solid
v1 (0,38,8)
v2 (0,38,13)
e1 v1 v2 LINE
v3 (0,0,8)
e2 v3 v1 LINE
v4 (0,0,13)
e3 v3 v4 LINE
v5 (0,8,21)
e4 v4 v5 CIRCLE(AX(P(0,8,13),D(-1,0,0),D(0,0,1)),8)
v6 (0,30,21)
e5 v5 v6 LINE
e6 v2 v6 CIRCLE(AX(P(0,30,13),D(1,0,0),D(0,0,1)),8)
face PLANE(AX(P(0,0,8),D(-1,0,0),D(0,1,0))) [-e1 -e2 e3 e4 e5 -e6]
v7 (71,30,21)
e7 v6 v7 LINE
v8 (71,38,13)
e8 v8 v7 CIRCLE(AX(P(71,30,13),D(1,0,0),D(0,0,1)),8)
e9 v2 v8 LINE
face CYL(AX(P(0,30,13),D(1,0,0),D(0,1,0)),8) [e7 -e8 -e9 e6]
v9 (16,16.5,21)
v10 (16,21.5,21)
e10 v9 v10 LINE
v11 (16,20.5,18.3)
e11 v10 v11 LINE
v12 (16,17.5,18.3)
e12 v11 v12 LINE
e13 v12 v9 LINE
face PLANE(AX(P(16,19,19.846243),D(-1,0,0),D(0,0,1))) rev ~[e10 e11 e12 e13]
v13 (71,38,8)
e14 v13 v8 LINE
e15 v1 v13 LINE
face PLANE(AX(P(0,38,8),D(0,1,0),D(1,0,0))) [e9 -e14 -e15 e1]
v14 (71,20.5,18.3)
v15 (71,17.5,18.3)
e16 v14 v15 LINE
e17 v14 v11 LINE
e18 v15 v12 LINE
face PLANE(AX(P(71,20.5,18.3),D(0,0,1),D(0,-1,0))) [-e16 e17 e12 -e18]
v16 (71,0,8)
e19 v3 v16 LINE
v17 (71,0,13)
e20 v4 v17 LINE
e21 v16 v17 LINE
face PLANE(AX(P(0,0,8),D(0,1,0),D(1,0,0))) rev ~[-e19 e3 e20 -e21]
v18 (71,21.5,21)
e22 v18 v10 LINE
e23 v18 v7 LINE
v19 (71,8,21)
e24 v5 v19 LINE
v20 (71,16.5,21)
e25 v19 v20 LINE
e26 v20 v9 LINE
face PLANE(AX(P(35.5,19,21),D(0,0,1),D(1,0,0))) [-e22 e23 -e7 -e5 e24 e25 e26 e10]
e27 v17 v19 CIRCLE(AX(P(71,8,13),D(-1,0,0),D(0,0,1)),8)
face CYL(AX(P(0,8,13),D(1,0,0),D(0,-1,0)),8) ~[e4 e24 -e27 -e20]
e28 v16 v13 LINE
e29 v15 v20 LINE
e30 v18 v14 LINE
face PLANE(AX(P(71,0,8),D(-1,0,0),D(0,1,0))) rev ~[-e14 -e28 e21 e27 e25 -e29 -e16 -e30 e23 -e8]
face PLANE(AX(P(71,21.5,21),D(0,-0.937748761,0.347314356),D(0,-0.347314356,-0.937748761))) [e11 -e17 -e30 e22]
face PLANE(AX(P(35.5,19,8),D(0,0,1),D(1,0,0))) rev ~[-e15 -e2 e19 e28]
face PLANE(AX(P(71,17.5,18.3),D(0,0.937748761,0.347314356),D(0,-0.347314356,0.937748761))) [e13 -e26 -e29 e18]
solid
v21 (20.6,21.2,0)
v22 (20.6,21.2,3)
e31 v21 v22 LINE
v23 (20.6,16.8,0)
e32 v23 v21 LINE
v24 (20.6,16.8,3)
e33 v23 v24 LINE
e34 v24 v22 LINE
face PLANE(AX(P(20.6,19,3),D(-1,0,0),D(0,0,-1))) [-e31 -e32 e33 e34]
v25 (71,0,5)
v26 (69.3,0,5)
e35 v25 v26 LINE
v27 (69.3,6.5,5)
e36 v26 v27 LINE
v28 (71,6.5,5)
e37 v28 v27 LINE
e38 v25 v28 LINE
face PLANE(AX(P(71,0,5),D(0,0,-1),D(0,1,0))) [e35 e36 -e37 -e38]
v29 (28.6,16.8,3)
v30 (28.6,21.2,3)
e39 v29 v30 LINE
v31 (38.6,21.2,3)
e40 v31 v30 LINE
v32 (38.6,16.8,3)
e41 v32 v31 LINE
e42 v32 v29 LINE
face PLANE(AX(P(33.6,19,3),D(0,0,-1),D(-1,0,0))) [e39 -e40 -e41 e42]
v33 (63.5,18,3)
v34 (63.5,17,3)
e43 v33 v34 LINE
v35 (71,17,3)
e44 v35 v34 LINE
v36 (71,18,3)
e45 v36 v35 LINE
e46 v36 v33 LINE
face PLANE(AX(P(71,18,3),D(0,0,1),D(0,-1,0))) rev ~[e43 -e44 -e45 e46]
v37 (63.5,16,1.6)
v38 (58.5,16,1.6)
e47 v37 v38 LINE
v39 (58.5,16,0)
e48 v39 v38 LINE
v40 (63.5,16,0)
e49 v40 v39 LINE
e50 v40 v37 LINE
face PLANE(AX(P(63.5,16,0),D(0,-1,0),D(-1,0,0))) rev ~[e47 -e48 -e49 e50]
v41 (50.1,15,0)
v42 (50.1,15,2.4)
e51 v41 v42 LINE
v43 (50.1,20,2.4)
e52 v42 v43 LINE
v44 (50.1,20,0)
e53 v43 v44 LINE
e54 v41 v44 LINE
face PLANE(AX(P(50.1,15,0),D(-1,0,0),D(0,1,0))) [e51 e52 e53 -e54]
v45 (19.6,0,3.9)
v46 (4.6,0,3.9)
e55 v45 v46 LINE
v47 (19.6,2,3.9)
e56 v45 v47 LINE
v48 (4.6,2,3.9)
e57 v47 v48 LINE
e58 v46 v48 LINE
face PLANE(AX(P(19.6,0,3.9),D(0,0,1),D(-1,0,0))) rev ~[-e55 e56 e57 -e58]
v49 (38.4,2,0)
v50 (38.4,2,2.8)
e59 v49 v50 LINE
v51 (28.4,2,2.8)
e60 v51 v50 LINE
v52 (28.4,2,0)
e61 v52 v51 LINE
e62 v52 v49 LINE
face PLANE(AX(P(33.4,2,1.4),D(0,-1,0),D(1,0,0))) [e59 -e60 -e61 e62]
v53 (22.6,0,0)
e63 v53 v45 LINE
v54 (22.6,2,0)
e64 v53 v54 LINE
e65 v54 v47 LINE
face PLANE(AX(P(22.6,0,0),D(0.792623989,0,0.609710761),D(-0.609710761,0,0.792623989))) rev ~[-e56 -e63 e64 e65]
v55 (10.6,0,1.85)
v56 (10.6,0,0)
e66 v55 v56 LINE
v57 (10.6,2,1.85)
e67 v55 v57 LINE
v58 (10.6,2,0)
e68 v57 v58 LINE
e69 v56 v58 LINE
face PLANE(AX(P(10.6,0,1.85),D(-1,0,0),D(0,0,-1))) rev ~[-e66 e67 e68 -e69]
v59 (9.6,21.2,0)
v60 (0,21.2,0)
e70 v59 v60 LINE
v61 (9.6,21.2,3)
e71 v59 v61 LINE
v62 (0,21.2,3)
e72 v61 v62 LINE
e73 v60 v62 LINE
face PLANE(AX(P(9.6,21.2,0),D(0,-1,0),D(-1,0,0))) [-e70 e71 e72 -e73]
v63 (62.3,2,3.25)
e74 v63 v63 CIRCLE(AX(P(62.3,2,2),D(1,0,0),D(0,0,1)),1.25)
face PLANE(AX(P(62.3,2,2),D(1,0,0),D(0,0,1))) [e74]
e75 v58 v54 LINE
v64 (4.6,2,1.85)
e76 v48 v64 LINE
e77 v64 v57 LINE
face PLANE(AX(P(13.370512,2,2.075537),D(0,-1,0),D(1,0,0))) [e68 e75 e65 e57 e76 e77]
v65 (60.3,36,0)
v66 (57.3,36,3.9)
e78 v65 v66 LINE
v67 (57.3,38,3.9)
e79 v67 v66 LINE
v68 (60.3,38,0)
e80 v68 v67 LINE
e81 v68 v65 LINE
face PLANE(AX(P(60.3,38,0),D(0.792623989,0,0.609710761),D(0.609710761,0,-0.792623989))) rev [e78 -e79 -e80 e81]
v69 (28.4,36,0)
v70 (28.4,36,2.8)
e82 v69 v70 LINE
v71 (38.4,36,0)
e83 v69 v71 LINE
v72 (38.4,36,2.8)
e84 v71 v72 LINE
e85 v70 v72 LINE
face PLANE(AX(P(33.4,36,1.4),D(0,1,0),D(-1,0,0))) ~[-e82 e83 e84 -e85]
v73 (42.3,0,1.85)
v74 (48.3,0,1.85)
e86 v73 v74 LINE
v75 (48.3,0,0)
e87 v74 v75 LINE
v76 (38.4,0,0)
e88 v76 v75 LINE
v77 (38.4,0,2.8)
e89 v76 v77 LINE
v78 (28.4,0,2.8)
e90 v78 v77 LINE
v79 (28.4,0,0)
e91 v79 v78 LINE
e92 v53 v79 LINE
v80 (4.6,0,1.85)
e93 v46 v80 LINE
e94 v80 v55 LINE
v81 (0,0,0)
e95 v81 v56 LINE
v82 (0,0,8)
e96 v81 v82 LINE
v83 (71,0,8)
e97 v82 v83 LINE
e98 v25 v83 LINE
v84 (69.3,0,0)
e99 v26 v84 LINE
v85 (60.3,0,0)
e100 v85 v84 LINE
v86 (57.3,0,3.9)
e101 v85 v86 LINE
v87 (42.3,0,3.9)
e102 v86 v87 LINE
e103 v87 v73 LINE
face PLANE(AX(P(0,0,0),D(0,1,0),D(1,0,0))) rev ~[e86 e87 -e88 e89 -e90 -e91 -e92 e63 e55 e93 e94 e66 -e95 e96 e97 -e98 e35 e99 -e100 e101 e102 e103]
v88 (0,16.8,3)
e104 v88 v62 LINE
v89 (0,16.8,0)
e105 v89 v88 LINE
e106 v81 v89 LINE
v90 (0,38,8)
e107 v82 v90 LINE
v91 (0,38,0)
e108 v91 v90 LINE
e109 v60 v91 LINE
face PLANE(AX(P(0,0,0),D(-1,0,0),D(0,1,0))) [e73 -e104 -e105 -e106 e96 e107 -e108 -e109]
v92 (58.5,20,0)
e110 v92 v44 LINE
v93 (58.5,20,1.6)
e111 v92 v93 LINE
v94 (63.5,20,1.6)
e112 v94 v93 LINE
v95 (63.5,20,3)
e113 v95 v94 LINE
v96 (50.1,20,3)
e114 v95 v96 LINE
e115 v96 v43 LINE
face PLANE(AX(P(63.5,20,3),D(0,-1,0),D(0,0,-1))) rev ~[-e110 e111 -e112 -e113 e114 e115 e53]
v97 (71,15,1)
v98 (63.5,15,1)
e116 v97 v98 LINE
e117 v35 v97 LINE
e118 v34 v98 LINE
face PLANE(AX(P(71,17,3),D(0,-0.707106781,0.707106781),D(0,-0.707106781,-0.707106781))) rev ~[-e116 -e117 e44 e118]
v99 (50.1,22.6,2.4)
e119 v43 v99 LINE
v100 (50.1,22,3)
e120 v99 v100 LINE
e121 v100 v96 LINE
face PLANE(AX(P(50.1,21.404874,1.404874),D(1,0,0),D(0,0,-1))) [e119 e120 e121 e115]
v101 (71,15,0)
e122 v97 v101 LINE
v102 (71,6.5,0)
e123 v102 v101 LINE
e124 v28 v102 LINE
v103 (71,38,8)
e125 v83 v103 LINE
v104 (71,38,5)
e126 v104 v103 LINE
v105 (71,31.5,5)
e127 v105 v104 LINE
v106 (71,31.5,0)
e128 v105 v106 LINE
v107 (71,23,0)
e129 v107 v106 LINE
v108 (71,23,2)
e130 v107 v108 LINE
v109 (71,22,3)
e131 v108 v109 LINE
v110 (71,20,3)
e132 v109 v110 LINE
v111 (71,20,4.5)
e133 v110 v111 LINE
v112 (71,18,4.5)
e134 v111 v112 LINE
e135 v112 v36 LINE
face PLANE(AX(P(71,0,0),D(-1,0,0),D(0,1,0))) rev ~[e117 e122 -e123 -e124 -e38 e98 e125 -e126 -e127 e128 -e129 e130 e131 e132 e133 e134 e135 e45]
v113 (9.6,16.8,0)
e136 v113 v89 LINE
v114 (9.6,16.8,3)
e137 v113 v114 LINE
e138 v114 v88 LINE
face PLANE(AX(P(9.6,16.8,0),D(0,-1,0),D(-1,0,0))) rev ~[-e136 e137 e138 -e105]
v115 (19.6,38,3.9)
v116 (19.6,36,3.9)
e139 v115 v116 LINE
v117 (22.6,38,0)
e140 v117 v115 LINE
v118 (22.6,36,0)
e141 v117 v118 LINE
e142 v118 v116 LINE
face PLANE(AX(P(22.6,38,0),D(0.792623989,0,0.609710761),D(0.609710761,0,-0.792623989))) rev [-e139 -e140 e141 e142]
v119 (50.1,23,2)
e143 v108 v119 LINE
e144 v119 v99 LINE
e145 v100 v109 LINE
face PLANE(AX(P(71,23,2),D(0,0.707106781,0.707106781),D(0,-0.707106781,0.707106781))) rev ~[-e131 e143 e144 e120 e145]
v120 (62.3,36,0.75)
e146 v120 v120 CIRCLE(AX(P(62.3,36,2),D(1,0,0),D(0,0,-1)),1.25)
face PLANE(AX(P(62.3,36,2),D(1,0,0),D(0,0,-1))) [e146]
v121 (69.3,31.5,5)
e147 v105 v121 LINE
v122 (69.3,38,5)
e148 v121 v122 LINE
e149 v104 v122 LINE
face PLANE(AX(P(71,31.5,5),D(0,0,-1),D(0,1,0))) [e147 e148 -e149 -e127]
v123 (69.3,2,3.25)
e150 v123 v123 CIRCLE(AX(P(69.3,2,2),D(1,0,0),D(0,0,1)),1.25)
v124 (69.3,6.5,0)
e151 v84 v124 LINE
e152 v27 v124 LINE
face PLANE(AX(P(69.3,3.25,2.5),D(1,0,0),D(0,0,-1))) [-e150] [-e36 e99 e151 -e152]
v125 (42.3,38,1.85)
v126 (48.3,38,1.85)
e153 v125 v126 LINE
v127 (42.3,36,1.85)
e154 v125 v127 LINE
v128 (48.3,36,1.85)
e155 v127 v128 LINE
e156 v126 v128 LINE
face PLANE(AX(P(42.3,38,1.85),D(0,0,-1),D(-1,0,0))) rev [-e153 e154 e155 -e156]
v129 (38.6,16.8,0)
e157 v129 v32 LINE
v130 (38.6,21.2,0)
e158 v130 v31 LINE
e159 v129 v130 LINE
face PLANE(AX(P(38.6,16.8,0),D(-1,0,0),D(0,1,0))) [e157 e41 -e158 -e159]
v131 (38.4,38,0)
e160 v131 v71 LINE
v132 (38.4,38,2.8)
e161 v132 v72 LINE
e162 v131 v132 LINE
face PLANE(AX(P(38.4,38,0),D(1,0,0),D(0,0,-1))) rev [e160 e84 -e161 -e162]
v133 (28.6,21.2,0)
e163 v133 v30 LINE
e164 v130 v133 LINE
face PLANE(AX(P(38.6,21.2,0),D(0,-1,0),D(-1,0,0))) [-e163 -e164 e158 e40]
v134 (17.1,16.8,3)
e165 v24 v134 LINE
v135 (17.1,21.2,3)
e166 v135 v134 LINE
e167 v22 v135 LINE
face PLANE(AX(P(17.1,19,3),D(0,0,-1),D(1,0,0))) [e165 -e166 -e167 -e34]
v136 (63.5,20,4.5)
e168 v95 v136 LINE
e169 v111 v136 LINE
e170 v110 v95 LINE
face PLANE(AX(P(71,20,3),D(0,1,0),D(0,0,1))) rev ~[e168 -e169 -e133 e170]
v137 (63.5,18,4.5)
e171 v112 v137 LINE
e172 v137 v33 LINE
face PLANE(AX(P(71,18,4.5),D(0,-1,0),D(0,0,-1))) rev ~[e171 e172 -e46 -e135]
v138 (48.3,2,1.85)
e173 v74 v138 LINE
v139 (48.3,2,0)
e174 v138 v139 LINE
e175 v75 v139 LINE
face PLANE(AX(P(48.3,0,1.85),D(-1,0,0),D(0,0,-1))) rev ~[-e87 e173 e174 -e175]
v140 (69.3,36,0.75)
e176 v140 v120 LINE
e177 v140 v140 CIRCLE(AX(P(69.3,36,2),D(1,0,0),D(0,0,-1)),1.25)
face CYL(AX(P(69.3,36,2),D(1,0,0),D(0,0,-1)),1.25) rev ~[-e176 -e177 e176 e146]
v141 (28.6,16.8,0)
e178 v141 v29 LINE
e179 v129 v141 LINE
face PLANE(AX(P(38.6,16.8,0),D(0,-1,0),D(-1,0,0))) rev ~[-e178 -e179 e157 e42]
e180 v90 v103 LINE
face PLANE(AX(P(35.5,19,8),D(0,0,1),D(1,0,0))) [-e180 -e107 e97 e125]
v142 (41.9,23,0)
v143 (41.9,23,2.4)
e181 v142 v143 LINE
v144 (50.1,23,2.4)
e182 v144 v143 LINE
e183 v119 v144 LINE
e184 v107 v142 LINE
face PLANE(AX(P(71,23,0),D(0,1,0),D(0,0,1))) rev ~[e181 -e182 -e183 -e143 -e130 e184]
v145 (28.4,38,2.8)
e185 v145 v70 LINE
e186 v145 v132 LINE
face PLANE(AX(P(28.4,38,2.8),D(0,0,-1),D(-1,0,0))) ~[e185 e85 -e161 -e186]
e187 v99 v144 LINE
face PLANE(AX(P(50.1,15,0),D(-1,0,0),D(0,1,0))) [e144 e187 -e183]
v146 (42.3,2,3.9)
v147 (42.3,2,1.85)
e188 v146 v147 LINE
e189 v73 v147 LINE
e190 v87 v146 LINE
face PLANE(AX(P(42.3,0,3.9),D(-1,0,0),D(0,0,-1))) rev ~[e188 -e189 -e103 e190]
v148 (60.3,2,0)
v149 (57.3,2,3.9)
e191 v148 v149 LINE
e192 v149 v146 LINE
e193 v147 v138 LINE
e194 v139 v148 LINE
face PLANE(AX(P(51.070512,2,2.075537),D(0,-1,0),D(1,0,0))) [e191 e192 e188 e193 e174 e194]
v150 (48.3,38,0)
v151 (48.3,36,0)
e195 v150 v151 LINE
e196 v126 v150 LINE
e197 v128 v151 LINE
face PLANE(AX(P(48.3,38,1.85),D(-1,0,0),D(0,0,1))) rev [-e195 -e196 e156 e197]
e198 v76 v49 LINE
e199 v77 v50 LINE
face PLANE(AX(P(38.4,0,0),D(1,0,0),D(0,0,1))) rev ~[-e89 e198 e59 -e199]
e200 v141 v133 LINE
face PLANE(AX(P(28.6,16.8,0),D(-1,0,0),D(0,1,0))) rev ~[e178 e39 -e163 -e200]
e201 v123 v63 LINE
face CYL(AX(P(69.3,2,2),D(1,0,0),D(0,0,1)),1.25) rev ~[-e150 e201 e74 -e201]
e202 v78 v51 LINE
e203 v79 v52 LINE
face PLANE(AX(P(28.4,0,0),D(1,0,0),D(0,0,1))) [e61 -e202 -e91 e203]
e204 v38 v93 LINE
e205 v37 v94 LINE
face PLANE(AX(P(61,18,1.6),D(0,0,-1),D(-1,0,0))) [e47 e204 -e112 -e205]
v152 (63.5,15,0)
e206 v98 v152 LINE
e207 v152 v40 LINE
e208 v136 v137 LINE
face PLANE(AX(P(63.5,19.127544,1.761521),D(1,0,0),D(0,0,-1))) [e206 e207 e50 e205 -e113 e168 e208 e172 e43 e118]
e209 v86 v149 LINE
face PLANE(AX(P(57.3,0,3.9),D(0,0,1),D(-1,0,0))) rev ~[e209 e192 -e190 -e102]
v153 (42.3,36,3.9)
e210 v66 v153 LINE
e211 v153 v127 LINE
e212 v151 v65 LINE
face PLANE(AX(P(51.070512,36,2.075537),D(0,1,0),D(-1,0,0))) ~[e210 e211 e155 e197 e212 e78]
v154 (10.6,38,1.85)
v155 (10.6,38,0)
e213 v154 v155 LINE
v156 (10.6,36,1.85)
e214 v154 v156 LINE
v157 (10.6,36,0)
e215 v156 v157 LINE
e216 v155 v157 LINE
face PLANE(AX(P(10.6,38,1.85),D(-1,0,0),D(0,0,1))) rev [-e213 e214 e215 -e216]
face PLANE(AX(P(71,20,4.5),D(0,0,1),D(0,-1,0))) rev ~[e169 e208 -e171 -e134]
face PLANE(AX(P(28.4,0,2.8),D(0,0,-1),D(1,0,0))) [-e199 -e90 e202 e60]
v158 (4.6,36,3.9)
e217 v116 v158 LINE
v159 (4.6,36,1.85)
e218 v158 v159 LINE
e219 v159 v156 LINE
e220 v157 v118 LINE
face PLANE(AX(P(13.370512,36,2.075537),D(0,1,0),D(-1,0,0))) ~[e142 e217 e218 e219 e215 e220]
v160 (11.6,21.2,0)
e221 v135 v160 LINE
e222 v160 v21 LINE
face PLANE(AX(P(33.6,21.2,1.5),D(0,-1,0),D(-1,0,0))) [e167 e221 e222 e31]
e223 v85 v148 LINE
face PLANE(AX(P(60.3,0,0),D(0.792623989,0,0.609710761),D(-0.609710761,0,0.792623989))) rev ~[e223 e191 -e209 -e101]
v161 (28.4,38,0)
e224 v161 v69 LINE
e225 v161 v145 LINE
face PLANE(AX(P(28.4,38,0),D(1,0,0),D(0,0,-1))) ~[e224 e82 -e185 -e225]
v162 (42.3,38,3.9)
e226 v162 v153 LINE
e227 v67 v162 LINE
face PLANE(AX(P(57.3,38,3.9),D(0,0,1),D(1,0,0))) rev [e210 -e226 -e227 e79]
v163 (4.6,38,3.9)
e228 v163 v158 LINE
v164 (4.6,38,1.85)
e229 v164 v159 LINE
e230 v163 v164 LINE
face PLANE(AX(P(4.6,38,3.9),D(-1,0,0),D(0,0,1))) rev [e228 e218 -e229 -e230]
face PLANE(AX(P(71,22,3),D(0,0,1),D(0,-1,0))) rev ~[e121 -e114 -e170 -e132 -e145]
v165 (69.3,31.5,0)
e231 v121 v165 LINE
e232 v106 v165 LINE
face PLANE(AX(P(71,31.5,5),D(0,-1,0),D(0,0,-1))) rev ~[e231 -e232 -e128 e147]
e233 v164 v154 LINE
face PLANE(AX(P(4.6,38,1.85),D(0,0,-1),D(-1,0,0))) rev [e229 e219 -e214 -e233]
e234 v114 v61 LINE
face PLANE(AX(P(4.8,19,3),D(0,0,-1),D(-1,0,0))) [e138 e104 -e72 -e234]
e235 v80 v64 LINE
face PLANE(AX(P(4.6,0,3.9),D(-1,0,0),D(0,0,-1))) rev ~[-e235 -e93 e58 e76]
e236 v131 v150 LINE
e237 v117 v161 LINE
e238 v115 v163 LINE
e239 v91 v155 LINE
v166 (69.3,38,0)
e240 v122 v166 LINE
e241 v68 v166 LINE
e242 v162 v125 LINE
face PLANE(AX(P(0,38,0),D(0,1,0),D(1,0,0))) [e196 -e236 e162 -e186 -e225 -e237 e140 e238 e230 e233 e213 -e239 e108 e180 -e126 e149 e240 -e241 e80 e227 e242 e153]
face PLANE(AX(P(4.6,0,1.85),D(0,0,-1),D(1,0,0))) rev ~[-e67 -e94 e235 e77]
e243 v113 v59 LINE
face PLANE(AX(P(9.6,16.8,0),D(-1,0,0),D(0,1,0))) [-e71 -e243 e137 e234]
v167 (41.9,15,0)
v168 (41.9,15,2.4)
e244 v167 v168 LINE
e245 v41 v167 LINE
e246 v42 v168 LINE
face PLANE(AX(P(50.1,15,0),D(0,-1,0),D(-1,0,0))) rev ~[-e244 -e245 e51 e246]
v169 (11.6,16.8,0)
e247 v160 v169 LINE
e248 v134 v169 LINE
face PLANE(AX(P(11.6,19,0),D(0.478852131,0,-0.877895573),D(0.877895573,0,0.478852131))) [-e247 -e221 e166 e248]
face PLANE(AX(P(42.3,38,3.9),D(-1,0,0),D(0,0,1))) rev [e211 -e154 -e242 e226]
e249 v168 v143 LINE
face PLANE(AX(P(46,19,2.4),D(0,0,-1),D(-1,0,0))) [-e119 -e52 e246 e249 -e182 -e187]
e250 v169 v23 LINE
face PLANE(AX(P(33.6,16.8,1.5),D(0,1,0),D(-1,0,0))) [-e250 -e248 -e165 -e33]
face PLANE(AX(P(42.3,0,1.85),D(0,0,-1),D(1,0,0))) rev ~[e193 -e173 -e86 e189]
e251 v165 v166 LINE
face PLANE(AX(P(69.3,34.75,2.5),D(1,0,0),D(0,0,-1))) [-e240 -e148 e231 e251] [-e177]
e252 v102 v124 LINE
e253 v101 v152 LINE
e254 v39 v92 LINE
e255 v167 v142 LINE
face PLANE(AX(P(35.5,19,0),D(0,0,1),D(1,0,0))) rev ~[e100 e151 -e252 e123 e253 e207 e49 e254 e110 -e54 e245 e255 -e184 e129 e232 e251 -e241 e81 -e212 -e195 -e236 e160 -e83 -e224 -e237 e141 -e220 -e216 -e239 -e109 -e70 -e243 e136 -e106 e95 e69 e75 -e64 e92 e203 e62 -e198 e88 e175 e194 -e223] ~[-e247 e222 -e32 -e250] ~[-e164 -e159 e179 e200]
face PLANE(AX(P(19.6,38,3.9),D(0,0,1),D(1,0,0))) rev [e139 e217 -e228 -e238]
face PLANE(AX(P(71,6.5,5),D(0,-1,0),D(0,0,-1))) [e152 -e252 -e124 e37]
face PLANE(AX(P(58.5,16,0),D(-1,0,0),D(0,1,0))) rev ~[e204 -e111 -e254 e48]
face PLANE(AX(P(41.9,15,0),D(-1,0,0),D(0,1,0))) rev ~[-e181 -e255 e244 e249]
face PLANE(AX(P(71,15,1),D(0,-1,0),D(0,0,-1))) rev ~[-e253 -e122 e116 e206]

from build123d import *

# Parameters (mm, degrees)
SKETCH_1_W                      = 71
SKETCH_1_H                      = 38
EXTRUDE_1_DEPTH                 = 8
SKETCH_2_W                      = 5
SKETCH_2_H                      = 6.5
CUT_EXTRUDE_1_DEPTH             = 1.7
SKETCH_3_W                      = 10
SKETCH_3_H                      = 2.8
CUT_EXTRUDE_2_DEPTH             = 2
SKETCH_4_W                      = 9.6
SKETCH_4_H                      = 4.4
SKETCH_4_W_2                    = 10
CUT_EXTRUDE_3_DEPTH             = 3
SKETCH_5_W                      = 8.2
SKETCH_5_H                      = 8
CUT_EXTRUDE_4_DEPTH             = 2.4
CUT_EXTRUDE_5_DEPTH             = 7.5
CUT_EXTRUDE_6_DEPTH             = 13.4
SKETCH_9_W                      = 5
SKETCH_9_H                      = 4
CUT_EXTRUDE_7_DEPTH             = 1.6
CUT_EXTRUDE_8_REACH             = 75.932
CUT_EXTRUDE_8_DIRECTION_2_REACH = 75.932
SKETCH_12_R                     = 1.25
CUT_EXTRUDE_9_DEPTH             = 7
SKETCH_13_W                     = 71
SKETCH_13_H                     = 38
EXTRUDE_2_DEPTH                 = 13
FILLET_1_R                      = 8
CUT_EXTRUDE_10_DEPTH            = 55


with BuildPart() as part:
    # Эскиз1 → Бобышка-Вытянуть1 (new body)
    with BuildSketch(Plane.XY):
        with Locations((35.5, 19)):
            Rectangle(SKETCH_1_W, SKETCH_1_H)
    extrude(amount=EXTRUDE_1_DEPTH)

    # Эскиз2 → Вырез-Вытянуть1 (cut)
    with BuildSketch(Plane(origin=(71, 0, 0), x_dir=(0, 0, -1), z_dir=(1, 0, 0))):
        with Locations((-2.5, 3.25)):
            Rectangle(SKETCH_2_W, SKETCH_2_H)
        with Locations((-2.5, 34.75)):
            Rectangle(SKETCH_2_W, SKETCH_2_H)
    extrude(amount=-CUT_EXTRUDE_1_DEPTH, mode=Mode.SUBTRACT)

    # Эскиз3 → Вырез-Вытянуть2 (cut)
    with BuildSketch(Plane.XZ):
        Polygon((60.3, 0), (57.3, 3.9), (42.3, 3.9), (42.3, 1.85), (48.3, 1.85), (48.3, 0), align=None)
        with Locations((33.4, 1.4)):
            Rectangle(SKETCH_3_W, SKETCH_3_H)
        Polygon((22.6, 0), (19.6, 3.9), (4.6, 3.9), (4.6, 1.85), (10.6, 1.85), (10.6, 0), align=None)
    cut_extrude_2 = extrude(amount=-CUT_EXTRUDE_2_DEPTH, mode=Mode.SUBTRACT)

    # Зеркальное отражение1: Вырез-Вытянуть2 across plane
    add(cut_extrude_2.mirror(Plane(origin=(0, 19, 0), x_dir=(0, 0, 1), z_dir=(0, -1, 0))), mode=Mode.SUBTRACT)

    # Эскиз4 → Вырез-Вытянуть3 (cut)
    with BuildSketch(Plane(origin=(0, 0, 0), x_dir=(-1, 0, 0), z_dir=(0, 0, -1))):
        with Locations((-4.8, 19)):
            Rectangle(SKETCH_4_W, SKETCH_4_H)
        with Locations((-33.6, 19)):
            Rectangle(SKETCH_4_W_2, SKETCH_4_H)
    extrude(amount=-CUT_EXTRUDE_3_DEPTH, mode=Mode.SUBTRACT)

    # Эскиз5 → Вырез-Вытянуть4 (cut)
    with BuildSketch(Plane(origin=(0, 0, 0), x_dir=(-1, 0, 0), z_dir=(0, 0, -1))):
        with Locations((-46, 19)):
            Rectangle(SKETCH_5_W, SKETCH_5_H)
    extrude(amount=-CUT_EXTRUDE_4_DEPTH, mode=Mode.SUBTRACT)

    # Эскиз7 → Вырез-Вытянуть5 (cut)
    with BuildSketch(Plane(origin=(71, 0, 0), x_dir=(0, 0, -1), z_dir=(1, 0, 0))):
        Polygon((-3, 18), (-3, 17), (-1, 15), (0, 15), (0, 23), (-2, 23), (-3, 22), (-3, 20), (-4.5, 20), (-4.5, 18), align=None)
    extrude(amount=-CUT_EXTRUDE_5_DEPTH, mode=Mode.SUBTRACT)

    # Эскиз8 → Вырез-Вытянуть6 (cut)
    with BuildSketch(Plane(origin=(63.5, 0, 0), x_dir=(0, 0, -1), z_dir=(1, 0, 0))):
        Polygon((0, 23), (-2, 23), (-3, 22), (-3, 20), (0, 20), align=None)
    extrude(amount=-CUT_EXTRUDE_6_DEPTH, mode=Mode.SUBTRACT)

    # Эскиз9 → Вырез-Вытянуть7 (cut)
    with BuildSketch(Plane(origin=(0, 0, 0), x_dir=(-1, 0, 0), z_dir=(0, 0, -1))):
        with Locations((-61, 18)):
            Rectangle(SKETCH_9_W, SKETCH_9_H)
    extrude(amount=-CUT_EXTRUDE_7_DEPTH, mode=Mode.SUBTRACT)

    # Вырез-Вытянуть8: up to this face of the body (flat: up to its plane)
    cut_extrude_8_end = Plane(part.part.faces().sort_by_distance((33.6, 21.2, 1.5))[0])
    # Эскиз11 → Вырез-Вытянуть8 (cut, up to the picked face)
    with BuildSketch(Plane(origin=(0, 19, 0), x_dir=(-1, 0, 0), z_dir=(0, -1, 0)), mode=Mode.PRIVATE) as cut_extrude_8_sk1:
        Polygon((-20.6, 0), (-11.6, 0), (-17.1, -3), (-20.6, -3), align=None)
    cut_extrude_8_tool1 = split(extrude(cut_extrude_8_sk1.sketch, amount=-CUT_EXTRUDE_8_REACH, mode=Mode.PRIVATE), bisect_by=cut_extrude_8_end, keep=Keep.BOTH, mode=Mode.PRIVATE)
    add(cut_extrude_8_tool1.solids().sort_by(Axis((17.273333, 19, 1.28), (0, 1, 0)))[0], mode=Mode.SUBTRACT)

    # Вырез-Вытянуть8 direction 2: up to this face of the body (flat: up to its plane)
    cut_extrude_8_direction_2_end = Plane(part.part.faces().sort_by_distance((33.6, 16.8, 1.5))[0])
    # Эскиз11 → Вырез-Вытянуть8 direction 2 (cut, up to the picked face)
    with BuildSketch(Plane(origin=(0, 19, 0), x_dir=(-1, 0, 0), z_dir=(0, -1, 0)), mode=Mode.PRIVATE) as cut_extrude_8_direction_2_sk1:
        Polygon((-20.6, 0), (-11.6, 0), (-17.1, -3), (-20.6, -3), align=None)
    cut_extrude_8_direction_2_tool1 = split(extrude(cut_extrude_8_direction_2_sk1.sketch, amount=CUT_EXTRUDE_8_DIRECTION_2_REACH, mode=Mode.PRIVATE), bisect_by=cut_extrude_8_direction_2_end, keep=Keep.BOTH, mode=Mode.PRIVATE)
    add(cut_extrude_8_direction_2_tool1.solids().sort_by(Axis((17.273333, 19, 1.28), (0, -1, 0)))[0], mode=Mode.SUBTRACT)

    # Эскиз12 → Вырез-Вытянуть9 (cut)
    with BuildSketch(Plane(origin=(69.3, 0, 0), x_dir=(0, 0, -1), z_dir=(1, 0, 0))):
        with Locations((-2, 36)):
            Circle(SKETCH_12_R)
        with Locations(Location((-2, 2, 0), (0, 0, 180))):
            Circle(SKETCH_12_R)
    extrude(amount=-CUT_EXTRUDE_9_DEPTH, mode=Mode.SUBTRACT)


with BuildPart() as body_2:
    # Эскиз13 → Бобышка-Вытянуть2 (new body)
    with BuildSketch(Plane.XY.offset(8)):
        with Locations((35.5, 19)):
            Rectangle(SKETCH_13_W, SKETCH_13_H)
    extrude(amount=EXTRUDE_2_DEPTH)

    # Скругление1
    fillet_1_edges = [body_2.edges().sort_by_distance(p)[0] for p in [
        (35.5, 0, 21),
        (35.5, 38, 21),
    ]]
    fillet(fillet_1_edges, radius=FILLET_1_R)

    # Эскиз14 → Вырез-Вытянуть10 (cut)
    with BuildSketch(Plane(origin=(71, 0, 0), x_dir=(0, 0, -1), z_dir=(1, 0, 0))):
        Polygon((-21, 16.5), (-21, 21.5), (-18.3, 20.5), (-18.3, 17.5), align=None)
    extrude(amount=-CUT_EXTRUDE_10_DEPTH, mode=Mode.SUBTRACT)


solid = Compound([part.part, body_2.part])
